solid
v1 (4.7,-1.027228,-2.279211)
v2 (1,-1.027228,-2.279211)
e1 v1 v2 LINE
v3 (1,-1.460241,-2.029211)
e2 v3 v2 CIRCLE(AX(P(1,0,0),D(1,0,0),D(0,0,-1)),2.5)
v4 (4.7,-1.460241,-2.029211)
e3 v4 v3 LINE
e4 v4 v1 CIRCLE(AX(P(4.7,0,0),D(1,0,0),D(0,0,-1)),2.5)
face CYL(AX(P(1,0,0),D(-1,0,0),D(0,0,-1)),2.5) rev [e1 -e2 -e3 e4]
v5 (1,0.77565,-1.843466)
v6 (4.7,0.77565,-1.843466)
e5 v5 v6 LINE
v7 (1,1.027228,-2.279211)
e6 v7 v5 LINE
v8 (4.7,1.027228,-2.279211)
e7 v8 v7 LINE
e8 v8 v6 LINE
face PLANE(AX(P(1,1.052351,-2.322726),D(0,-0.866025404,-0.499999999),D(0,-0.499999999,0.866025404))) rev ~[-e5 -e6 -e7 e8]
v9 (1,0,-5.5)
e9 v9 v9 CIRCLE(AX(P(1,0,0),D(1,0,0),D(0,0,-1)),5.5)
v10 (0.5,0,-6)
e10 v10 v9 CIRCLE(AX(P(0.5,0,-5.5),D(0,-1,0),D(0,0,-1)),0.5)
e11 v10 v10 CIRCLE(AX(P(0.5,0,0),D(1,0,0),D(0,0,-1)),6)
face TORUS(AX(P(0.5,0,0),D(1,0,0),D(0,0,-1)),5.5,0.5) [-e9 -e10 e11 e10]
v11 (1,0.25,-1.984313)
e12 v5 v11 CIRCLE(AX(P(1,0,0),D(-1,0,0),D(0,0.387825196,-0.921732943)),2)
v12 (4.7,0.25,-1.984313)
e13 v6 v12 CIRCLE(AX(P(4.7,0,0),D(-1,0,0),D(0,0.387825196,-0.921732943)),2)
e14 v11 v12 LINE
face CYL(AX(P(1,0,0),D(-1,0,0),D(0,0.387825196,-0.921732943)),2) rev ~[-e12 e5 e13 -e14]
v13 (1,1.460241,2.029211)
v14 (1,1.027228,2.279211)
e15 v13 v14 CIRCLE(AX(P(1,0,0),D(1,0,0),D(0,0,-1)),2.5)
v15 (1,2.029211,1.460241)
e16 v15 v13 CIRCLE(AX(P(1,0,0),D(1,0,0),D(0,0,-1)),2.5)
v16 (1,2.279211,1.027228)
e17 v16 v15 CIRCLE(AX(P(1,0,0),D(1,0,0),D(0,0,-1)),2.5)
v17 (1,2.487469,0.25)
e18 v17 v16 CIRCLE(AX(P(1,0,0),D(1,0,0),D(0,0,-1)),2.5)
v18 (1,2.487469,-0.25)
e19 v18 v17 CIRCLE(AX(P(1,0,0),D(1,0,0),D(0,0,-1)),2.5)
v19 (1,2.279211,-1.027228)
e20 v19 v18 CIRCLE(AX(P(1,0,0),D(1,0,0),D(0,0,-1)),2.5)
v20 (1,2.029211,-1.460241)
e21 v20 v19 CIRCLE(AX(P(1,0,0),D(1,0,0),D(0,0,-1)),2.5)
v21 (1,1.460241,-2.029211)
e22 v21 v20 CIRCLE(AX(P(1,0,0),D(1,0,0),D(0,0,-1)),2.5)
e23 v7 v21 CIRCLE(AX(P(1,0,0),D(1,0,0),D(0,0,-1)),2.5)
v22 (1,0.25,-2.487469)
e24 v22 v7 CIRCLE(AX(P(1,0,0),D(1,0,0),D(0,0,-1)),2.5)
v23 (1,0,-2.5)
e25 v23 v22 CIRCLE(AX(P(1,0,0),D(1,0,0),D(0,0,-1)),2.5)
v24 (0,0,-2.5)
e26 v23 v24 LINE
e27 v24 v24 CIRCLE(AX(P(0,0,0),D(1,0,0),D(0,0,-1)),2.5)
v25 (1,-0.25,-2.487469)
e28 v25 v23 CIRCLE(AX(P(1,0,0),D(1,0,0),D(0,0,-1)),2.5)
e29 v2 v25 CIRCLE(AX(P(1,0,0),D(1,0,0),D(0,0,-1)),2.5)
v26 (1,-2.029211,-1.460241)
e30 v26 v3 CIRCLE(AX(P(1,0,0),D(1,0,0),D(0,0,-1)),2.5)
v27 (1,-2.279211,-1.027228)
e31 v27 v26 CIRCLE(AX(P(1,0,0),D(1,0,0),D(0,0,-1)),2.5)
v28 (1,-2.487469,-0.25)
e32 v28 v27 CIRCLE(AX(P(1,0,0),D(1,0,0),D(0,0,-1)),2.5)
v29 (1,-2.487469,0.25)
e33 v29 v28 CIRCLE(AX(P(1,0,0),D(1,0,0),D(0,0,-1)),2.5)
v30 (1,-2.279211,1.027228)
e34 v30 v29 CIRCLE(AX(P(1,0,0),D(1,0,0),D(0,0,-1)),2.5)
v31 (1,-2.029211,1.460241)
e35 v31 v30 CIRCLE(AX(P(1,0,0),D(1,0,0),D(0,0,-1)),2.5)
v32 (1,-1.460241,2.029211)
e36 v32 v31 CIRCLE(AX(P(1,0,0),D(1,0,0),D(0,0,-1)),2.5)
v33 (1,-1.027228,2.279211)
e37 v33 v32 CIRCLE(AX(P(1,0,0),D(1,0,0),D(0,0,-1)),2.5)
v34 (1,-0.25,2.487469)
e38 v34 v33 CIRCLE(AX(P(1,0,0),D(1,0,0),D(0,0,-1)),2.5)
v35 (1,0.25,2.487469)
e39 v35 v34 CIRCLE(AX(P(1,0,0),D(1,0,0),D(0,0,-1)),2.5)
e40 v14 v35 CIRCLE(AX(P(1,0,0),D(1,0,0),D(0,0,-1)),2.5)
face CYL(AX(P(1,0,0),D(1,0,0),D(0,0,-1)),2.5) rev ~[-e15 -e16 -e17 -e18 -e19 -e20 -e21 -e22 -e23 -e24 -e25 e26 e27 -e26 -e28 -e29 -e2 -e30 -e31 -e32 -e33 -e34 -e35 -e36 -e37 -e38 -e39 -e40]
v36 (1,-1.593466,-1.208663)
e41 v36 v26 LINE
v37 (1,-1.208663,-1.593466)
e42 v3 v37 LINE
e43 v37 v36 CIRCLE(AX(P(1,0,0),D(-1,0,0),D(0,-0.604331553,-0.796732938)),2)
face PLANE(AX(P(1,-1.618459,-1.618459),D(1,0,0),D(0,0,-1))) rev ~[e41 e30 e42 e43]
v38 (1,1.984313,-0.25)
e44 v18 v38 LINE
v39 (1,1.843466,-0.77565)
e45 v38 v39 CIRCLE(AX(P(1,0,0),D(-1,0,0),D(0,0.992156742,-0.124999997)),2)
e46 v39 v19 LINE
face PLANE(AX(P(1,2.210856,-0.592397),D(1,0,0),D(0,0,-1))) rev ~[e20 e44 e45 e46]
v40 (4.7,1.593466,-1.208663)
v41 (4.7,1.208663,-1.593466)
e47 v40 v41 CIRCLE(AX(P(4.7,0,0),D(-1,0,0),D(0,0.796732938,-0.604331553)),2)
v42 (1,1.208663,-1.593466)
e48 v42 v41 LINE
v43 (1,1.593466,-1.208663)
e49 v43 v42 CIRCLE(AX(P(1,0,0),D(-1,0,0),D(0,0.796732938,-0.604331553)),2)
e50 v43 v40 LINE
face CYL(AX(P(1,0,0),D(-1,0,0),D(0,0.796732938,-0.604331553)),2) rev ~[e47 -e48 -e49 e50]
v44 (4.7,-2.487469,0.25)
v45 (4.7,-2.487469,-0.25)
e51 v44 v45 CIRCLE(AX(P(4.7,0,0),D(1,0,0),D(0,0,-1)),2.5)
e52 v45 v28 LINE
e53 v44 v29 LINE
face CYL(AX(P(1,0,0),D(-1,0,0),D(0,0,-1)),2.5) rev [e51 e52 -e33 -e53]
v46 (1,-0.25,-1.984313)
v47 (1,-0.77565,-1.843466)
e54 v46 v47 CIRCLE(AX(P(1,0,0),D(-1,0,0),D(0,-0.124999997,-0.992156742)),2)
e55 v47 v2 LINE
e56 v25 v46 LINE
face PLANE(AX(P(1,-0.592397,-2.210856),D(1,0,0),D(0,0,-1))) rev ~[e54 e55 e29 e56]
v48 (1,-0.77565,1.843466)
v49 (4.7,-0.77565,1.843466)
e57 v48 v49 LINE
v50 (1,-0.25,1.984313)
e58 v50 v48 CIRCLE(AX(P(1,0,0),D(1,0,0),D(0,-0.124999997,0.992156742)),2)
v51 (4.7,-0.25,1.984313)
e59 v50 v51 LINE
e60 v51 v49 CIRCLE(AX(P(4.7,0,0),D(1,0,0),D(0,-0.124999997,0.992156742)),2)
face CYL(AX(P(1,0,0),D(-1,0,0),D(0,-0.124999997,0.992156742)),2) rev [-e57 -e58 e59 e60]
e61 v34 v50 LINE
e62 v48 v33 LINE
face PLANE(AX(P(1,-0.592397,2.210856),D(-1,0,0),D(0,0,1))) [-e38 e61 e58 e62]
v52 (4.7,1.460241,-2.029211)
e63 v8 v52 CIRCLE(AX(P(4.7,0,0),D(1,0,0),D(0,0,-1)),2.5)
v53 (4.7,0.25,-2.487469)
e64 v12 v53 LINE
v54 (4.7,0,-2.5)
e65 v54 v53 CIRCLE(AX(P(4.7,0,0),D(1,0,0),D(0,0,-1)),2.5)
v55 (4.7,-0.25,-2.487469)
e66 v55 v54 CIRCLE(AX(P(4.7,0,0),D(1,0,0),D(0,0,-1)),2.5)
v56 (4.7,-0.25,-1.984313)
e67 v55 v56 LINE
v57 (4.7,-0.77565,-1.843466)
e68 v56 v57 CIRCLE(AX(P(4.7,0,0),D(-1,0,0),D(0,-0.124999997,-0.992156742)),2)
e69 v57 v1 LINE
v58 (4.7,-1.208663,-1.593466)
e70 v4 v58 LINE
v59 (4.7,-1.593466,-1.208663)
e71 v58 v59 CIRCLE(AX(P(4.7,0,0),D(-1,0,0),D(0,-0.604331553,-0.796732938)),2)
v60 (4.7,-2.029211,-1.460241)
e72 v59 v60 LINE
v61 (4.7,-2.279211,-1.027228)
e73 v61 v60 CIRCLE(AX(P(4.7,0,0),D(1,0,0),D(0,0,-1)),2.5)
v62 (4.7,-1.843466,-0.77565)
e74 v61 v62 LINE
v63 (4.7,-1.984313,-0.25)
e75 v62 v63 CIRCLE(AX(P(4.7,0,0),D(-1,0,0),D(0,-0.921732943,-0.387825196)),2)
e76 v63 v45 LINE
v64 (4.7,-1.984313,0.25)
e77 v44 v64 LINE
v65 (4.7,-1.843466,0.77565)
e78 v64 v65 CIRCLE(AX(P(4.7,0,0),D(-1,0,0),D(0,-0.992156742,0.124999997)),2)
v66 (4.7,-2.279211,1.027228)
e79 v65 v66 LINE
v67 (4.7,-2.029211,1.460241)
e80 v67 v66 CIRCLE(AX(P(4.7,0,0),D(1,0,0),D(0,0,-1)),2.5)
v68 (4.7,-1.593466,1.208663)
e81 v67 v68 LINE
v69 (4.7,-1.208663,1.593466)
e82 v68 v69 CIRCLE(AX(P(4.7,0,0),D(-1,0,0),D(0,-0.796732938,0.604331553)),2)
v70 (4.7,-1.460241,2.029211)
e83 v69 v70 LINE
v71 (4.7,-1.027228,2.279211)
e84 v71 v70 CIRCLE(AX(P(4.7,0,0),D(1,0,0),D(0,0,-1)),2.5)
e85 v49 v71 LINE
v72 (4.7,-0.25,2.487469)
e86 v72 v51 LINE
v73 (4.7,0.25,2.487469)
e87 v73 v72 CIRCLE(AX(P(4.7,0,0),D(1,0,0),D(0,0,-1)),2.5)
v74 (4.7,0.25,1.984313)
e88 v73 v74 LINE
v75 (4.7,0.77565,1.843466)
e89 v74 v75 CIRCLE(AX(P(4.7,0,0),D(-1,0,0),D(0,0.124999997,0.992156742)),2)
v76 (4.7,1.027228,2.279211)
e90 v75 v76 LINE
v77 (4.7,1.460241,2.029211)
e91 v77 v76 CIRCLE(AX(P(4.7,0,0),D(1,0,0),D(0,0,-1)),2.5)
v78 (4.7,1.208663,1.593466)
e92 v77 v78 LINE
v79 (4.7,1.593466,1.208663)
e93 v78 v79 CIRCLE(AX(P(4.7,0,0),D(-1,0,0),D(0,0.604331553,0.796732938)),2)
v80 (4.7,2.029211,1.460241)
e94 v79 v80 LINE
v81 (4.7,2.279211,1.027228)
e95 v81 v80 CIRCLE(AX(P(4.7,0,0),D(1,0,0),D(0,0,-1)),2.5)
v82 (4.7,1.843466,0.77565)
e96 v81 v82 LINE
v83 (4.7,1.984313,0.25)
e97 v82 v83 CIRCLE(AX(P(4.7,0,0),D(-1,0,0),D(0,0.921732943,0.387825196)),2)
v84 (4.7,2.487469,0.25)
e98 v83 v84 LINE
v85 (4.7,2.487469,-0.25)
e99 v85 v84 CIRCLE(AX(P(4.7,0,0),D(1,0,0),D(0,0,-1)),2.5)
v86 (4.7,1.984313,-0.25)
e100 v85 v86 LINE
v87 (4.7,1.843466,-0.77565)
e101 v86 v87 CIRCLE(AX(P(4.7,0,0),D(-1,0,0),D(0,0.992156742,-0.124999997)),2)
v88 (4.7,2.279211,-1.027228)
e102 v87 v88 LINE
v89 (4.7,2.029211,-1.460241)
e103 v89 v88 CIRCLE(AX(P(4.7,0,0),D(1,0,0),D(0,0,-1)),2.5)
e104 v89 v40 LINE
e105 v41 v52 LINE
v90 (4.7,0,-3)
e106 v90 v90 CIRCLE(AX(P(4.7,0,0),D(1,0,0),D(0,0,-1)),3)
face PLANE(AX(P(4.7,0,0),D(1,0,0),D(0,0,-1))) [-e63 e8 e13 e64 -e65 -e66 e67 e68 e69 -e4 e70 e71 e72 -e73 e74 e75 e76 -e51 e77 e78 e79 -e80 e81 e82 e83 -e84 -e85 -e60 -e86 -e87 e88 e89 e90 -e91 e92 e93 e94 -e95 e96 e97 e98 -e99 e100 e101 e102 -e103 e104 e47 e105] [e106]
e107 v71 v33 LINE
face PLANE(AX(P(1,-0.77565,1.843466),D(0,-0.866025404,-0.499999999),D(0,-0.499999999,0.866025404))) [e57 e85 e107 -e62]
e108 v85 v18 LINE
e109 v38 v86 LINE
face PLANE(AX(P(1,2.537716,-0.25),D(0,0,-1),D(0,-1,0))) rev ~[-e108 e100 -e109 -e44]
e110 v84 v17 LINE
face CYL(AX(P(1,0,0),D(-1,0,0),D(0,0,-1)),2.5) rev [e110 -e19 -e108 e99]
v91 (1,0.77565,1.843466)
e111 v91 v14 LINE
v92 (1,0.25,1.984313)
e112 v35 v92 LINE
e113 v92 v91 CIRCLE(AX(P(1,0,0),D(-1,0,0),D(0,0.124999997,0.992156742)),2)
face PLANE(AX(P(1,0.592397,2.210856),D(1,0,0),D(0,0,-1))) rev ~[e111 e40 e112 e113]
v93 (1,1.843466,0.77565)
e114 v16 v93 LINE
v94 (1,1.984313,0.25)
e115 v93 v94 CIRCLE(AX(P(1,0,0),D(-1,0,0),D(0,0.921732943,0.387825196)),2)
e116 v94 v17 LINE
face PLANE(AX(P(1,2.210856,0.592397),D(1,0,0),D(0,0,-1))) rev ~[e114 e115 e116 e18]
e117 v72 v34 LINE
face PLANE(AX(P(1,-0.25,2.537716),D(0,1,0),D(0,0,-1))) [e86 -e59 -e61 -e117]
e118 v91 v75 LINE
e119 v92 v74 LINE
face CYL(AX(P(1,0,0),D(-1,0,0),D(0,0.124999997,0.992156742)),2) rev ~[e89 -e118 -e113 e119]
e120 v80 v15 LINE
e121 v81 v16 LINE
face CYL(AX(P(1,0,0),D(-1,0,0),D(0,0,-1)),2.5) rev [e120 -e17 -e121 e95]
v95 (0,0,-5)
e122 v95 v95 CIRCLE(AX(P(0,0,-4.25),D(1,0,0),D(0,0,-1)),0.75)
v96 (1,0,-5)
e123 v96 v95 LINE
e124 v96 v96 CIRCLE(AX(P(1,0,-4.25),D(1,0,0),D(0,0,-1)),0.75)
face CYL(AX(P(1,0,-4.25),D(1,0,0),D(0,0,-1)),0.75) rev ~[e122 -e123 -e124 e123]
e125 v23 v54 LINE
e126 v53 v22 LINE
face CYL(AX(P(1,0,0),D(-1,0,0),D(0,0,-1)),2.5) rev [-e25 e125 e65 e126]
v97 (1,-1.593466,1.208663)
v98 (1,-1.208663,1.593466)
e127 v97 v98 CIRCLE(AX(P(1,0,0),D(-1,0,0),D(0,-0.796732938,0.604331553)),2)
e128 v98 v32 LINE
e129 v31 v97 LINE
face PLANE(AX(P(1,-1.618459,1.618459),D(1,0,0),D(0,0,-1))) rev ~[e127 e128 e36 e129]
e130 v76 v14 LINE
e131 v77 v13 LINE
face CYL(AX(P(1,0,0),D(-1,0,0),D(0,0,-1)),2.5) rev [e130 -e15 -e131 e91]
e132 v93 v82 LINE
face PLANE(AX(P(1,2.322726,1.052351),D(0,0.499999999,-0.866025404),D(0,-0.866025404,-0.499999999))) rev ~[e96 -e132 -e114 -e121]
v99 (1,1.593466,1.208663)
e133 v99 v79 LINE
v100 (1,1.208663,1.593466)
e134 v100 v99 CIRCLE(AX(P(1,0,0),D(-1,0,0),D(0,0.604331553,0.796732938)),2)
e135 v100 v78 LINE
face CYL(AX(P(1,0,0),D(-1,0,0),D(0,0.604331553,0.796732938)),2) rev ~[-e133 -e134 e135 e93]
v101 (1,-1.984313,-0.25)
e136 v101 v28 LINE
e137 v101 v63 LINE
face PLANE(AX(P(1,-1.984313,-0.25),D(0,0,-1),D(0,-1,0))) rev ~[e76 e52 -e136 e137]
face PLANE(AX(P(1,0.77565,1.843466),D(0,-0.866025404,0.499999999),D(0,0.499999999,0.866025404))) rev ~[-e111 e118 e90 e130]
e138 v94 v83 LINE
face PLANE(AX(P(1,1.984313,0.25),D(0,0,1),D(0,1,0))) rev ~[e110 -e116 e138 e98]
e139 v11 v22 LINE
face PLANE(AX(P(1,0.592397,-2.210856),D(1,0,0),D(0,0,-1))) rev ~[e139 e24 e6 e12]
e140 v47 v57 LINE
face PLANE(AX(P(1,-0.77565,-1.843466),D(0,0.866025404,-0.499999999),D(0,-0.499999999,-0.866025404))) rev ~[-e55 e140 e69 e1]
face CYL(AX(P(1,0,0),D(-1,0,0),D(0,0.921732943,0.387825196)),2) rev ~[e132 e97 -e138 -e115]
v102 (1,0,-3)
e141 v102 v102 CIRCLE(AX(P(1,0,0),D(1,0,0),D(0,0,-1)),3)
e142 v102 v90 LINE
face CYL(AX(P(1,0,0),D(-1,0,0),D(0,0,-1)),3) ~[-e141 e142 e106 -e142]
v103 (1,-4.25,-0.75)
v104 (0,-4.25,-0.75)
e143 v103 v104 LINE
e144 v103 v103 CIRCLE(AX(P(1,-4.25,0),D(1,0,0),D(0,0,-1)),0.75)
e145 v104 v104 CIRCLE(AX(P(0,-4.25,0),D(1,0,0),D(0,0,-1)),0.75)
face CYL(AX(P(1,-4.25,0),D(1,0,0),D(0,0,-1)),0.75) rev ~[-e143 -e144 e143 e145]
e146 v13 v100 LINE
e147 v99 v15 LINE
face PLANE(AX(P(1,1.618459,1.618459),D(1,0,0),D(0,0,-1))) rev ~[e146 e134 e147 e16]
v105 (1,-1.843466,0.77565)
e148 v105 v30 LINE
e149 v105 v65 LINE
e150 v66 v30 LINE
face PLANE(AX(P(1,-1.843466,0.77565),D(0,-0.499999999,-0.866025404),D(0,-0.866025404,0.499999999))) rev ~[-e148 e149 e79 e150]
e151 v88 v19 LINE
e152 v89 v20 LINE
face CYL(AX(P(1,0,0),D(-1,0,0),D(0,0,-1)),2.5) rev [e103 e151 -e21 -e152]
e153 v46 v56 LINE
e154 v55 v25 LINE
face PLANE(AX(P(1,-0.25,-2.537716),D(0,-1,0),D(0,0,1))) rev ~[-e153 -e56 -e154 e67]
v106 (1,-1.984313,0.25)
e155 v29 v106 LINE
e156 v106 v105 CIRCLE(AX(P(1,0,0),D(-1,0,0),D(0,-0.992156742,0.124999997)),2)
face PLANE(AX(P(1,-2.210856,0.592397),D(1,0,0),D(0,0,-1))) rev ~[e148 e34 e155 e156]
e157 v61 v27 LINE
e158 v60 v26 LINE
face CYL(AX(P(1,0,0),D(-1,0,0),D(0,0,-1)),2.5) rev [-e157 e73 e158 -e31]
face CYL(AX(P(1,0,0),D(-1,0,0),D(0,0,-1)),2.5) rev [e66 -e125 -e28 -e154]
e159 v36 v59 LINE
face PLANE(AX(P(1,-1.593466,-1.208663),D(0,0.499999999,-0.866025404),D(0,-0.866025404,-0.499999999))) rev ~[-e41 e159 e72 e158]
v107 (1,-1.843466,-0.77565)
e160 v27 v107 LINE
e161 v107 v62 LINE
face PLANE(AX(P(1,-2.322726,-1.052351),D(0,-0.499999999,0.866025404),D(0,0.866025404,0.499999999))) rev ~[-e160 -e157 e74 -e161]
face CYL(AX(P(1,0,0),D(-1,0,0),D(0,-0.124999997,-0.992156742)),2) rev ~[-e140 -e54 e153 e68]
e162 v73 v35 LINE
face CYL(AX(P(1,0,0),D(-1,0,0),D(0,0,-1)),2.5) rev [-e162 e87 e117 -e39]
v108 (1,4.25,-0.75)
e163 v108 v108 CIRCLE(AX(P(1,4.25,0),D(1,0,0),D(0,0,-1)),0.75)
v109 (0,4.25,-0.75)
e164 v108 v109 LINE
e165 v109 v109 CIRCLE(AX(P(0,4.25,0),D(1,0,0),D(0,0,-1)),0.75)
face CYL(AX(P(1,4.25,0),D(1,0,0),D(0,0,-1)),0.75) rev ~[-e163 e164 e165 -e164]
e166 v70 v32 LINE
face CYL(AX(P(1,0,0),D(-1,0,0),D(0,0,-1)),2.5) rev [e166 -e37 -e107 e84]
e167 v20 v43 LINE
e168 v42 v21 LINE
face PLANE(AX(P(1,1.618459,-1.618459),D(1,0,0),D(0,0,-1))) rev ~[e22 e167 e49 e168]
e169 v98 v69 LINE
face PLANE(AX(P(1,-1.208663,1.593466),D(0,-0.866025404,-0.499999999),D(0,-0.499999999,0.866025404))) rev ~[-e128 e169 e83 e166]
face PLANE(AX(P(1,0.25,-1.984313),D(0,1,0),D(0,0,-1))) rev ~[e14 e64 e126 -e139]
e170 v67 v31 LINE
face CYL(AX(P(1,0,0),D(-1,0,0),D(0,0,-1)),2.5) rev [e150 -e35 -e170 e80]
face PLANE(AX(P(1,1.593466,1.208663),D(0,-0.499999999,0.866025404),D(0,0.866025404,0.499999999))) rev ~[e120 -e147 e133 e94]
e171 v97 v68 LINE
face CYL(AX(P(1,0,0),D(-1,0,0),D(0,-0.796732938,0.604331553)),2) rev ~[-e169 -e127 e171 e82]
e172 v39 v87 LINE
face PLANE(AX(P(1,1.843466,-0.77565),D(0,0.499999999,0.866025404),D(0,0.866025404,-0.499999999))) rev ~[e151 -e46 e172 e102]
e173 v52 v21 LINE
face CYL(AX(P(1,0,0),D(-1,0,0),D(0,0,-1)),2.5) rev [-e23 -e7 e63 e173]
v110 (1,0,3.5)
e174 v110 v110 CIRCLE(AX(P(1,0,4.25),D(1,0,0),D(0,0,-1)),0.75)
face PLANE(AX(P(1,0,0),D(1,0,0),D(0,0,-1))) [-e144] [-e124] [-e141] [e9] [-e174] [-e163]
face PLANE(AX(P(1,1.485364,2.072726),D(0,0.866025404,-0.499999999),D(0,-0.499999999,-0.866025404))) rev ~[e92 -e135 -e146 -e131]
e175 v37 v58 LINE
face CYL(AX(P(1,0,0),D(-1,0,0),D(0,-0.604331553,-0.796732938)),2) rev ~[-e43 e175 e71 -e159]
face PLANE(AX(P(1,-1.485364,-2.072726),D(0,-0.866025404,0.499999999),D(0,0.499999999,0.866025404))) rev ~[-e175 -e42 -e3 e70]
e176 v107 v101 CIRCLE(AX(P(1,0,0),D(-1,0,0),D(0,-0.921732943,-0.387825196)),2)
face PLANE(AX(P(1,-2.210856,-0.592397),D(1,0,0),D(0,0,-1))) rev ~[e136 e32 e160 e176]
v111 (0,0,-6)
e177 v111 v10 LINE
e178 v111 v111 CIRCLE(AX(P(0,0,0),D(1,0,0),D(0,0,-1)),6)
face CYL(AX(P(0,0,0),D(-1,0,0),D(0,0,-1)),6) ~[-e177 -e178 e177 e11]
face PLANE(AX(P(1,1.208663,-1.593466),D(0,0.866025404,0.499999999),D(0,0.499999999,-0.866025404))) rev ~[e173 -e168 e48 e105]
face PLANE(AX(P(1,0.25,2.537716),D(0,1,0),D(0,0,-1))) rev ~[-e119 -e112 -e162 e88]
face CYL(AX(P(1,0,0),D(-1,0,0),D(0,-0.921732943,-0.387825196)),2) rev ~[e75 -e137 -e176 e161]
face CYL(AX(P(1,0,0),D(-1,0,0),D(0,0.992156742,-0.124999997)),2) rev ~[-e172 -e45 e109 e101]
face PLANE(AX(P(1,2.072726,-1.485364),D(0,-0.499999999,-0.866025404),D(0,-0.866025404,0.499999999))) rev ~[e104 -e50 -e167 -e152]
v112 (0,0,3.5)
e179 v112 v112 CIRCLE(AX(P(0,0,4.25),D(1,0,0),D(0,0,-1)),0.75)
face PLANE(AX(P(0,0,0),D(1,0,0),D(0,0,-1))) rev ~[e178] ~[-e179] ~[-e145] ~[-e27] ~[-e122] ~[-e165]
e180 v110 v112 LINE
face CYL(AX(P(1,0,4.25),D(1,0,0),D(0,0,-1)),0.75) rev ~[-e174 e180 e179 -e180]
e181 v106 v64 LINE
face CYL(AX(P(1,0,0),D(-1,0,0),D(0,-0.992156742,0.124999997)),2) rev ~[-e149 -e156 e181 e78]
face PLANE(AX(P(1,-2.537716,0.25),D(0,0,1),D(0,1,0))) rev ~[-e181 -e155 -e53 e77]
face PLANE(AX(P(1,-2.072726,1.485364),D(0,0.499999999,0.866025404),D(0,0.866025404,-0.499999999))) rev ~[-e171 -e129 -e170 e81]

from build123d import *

# Parameters (mm, degrees)
SKETCH1_R           = 6
BOSS_EXTRUDE1_DEPTH = 1
FILLET2_R           = 0.5
SKETCH3_R           = 3
SKETCH3_R_2         = 2.5
BOSS_EXTRUDE2_DEPTH = 3.7
SKETCH4_R           = 2.5
CUT_EXTRUDE1_DEPTH  = 10.256889391
BOSS_EXTRUDE3_DEPTH = 3.7
SKETCH6_R           = 0.75
CUT_EXTRUDE2_DEPTH  = 10.256889391


with BuildPart() as part:
    # Sketch1 → Boss-Extrude1 (new body)
    with BuildSketch(Plane(origin=(0, 0, 0), x_dir=(0, 0, -1), z_dir=(1, 0, 0))):
        Circle(SKETCH1_R)
    extrude(amount=BOSS_EXTRUDE1_DEPTH)

    # Fillet2
    fillet2_edges = [part.edges().sort_by_distance(p)[0] for p in [
        (1, 0, 6),
    ]]
    fillet(fillet2_edges, radius=FILLET2_R)

    # Sketch3 → Boss-Extrude2 (add)
    with BuildSketch(Plane(origin=(1, 0, 0), x_dir=(0, 0, -1), z_dir=(1, 0, 0))):
        Circle(SKETCH3_R)
        Circle(SKETCH3_R_2, mode=Mode.SUBTRACT)
    extrude(amount=BOSS_EXTRUDE2_DEPTH)

    # Sketch4 → Cut-Extrude1 (cut, through all)
    with BuildSketch(Plane(origin=(1, 0, 0), x_dir=(0, 0, -1), z_dir=(1, 0, 0))):
        Circle(SKETCH4_R)
    extrude(amount=-CUT_EXTRUDE1_DEPTH, mode=Mode.SUBTRACT)

    # Sketch5 → Boss-Extrude3 (add, through all)
    with BuildSketch(Plane(origin=(1, 0, 0), x_dir=(0, 0, -1), z_dir=(1, 0, 0))):
        with BuildLine():
            Line((-2.537715508, 0.25), (-1.984313483, 0.25))
            ThreePointArc((-1.984313483, 0.25), (-1.931851653, 0.51763809), (-1.843465886, 0.775650391))
            Line((-1.843465886, 0.775650391), (-2.322726098, 1.052351403))
            ThreePointArc((-2.322726098, 1.052351403), (-2.463110857, 0.659988565), (-2.537715508, 0.25))
        make_face()
        with BuildLine():
            Line((-2.537715508, -0.25), (-1.984313483, -0.25))
            ThreePointArc((-1.984313483, -0.25), (-1.931851653, -0.51763809), (-1.843465886, -0.775650391))
            Line((-1.843465886, -0.775650391), (-2.322726098, -1.052351403))
            ThreePointArc((-2.322726098, -1.052351403), (-2.463110857, -0.659988565), (-2.537715508, -0.25))
        make_face()
        with BuildLine():
            Line((-2.072726098, 1.485364105), (-1.593465886, 1.208663093))
            ThreePointArc((-1.593465886, 1.208663093), (-1.414213562, 1.414213562), (-1.208663093, 1.593465886))
            Line((-1.208663093, 1.593465886), (-1.485364105, 2.072726098))
            ThreePointArc((-1.485364105, 2.072726098), (-1.803122292, 1.803122292), (-2.072726098, 1.485364105))
        make_face()
        with BuildLine():
            Line((-1.052351403, 2.322726098), (-0.775650391, 1.843465886))
            ThreePointArc((-0.775650391, 1.843465886), (-0.51763809, 1.931851653), (-0.25, 1.984313483))
            Line((-0.25, 1.984313483), (-0.25, 2.537715508))
            ThreePointArc((-0.25, 2.537715508), (-0.659988565, 2.463110857), (-1.052351403, 2.322726098))
        make_face()
        with BuildLine():
            Line((0.25, 2.537715508), (0.25, 1.984313483))
            ThreePointArc((0.25, 1.984313483), (0.51763809, 1.931851653), (0.775650391, 1.843465886))
            Line((0.775650391, 1.843465886), (1.052351403, 2.322726098))
            ThreePointArc((1.052351403, 2.322726098), (0.659988565, 2.463110857), (0.25, 2.537715508))
        make_face()
        with BuildLine():
            Line((1.485364105, 2.072726098), (1.208663093, 1.593465886))
            ThreePointArc((1.208663093, 1.593465886), (1.414213562, 1.414213562), (1.593465886, 1.208663093))
            Line((1.593465886, 1.208663093), (2.072726098, 1.485364105))
            ThreePointArc((2.072726098, 1.485364105), (1.803122292, 1.803122292), (1.485364105, 2.072726098))
        make_face()
        with BuildLine():
            Line((2.322726098, 1.052351403), (1.843465886, 0.775650391))
            ThreePointArc((1.843465886, 0.775650391), (1.931851653, 0.51763809), (1.984313483, 0.25))
            Line((1.984313483, 0.25), (2.537715508, 0.25))
            ThreePointArc((2.537715508, 0.25), (2.463110857, 0.659988565), (2.322726098, 1.052351403))
        make_face()
        with BuildLine():
            Line((2.537715508, -0.25), (1.984313483, -0.25))
            ThreePointArc((1.984313483, -0.25), (1.931851653, -0.51763809), (1.843465886, -0.775650391))
            Line((1.843465886, -0.775650391), (2.322726098, -1.052351403))
            ThreePointArc((2.322726098, -1.052351403), (2.463110857, -0.659988565), (2.537715508, -0.25))
        make_face()
        with BuildLine():
            Line((2.072726098, -1.485364105), (1.593465886, -1.208663093))
            ThreePointArc((1.593465886, -1.208663093), (1.414213562, -1.414213562), (1.208663093, -1.593465886))
            Line((1.208663093, -1.593465886), (1.485364105, -2.072726098))
            ThreePointArc((1.485364105, -2.072726098), (1.803122292, -1.803122292), (2.072726098, -1.485364105))
        make_face()
        with BuildLine():
            Line((1.052351403, -2.322726098), (0.775650391, -1.843465886))
            ThreePointArc((0.775650391, -1.843465886), (0.51763809, -1.931851653), (0.25, -1.984313483))
            Line((0.25, -1.984313483), (0.25, -2.537715508))
            ThreePointArc((0.25, -2.537715508), (0.659988565, -2.463110857), (1.052351403, -2.322726098))
        make_face()
        with BuildLine():
            Line((-0.25, -2.537715508), (-0.25, -1.984313483))
            ThreePointArc((-0.25, -1.984313483), (-0.51763809, -1.931851653), (-0.775650391, -1.843465886))
            Line((-0.775650391, -1.843465886), (-1.052351403, -2.322726098))
            ThreePointArc((-1.052351403, -2.322726098), (-0.659988565, -2.463110857), (-0.25, -2.537715508))
        make_face()
        with BuildLine():
            Line((-1.485364105, -2.072726098), (-1.208663093, -1.593465886))
            ThreePointArc((-1.208663093, -1.593465886), (-1.414213562, -1.414213562), (-1.593465886, -1.208663093))
            Line((-1.593465886, -1.208663093), (-2.072726098, -1.485364105))
            ThreePointArc((-2.072726098, -1.485364105), (-1.803122292, -1.803122292), (-1.485364105, -2.072726098))
        make_face()
    extrude(amount=BOSS_EXTRUDE3_DEPTH)

    # Sketch6 → Cut-Extrude2 (cut, through all)
    with BuildSketch(Plane(origin=(1, 0, 0), x_dir=(0, 0, -1), z_dir=(1, 0, 0))):
        with Locations((-4.25, 0)):
            Circle(SKETCH6_R)
        with Locations((0, 4.25)):
            Circle(SKETCH6_R)
        with Locations((4.25, 0)):
            Circle(SKETCH6_R)
        with Locations((0, -4.25)):
            Circle(SKETCH6_R)
    extrude(amount=-CUT_EXTRUDE2_DEPTH, mode=Mode.SUBTRACT)


solid = part.part
